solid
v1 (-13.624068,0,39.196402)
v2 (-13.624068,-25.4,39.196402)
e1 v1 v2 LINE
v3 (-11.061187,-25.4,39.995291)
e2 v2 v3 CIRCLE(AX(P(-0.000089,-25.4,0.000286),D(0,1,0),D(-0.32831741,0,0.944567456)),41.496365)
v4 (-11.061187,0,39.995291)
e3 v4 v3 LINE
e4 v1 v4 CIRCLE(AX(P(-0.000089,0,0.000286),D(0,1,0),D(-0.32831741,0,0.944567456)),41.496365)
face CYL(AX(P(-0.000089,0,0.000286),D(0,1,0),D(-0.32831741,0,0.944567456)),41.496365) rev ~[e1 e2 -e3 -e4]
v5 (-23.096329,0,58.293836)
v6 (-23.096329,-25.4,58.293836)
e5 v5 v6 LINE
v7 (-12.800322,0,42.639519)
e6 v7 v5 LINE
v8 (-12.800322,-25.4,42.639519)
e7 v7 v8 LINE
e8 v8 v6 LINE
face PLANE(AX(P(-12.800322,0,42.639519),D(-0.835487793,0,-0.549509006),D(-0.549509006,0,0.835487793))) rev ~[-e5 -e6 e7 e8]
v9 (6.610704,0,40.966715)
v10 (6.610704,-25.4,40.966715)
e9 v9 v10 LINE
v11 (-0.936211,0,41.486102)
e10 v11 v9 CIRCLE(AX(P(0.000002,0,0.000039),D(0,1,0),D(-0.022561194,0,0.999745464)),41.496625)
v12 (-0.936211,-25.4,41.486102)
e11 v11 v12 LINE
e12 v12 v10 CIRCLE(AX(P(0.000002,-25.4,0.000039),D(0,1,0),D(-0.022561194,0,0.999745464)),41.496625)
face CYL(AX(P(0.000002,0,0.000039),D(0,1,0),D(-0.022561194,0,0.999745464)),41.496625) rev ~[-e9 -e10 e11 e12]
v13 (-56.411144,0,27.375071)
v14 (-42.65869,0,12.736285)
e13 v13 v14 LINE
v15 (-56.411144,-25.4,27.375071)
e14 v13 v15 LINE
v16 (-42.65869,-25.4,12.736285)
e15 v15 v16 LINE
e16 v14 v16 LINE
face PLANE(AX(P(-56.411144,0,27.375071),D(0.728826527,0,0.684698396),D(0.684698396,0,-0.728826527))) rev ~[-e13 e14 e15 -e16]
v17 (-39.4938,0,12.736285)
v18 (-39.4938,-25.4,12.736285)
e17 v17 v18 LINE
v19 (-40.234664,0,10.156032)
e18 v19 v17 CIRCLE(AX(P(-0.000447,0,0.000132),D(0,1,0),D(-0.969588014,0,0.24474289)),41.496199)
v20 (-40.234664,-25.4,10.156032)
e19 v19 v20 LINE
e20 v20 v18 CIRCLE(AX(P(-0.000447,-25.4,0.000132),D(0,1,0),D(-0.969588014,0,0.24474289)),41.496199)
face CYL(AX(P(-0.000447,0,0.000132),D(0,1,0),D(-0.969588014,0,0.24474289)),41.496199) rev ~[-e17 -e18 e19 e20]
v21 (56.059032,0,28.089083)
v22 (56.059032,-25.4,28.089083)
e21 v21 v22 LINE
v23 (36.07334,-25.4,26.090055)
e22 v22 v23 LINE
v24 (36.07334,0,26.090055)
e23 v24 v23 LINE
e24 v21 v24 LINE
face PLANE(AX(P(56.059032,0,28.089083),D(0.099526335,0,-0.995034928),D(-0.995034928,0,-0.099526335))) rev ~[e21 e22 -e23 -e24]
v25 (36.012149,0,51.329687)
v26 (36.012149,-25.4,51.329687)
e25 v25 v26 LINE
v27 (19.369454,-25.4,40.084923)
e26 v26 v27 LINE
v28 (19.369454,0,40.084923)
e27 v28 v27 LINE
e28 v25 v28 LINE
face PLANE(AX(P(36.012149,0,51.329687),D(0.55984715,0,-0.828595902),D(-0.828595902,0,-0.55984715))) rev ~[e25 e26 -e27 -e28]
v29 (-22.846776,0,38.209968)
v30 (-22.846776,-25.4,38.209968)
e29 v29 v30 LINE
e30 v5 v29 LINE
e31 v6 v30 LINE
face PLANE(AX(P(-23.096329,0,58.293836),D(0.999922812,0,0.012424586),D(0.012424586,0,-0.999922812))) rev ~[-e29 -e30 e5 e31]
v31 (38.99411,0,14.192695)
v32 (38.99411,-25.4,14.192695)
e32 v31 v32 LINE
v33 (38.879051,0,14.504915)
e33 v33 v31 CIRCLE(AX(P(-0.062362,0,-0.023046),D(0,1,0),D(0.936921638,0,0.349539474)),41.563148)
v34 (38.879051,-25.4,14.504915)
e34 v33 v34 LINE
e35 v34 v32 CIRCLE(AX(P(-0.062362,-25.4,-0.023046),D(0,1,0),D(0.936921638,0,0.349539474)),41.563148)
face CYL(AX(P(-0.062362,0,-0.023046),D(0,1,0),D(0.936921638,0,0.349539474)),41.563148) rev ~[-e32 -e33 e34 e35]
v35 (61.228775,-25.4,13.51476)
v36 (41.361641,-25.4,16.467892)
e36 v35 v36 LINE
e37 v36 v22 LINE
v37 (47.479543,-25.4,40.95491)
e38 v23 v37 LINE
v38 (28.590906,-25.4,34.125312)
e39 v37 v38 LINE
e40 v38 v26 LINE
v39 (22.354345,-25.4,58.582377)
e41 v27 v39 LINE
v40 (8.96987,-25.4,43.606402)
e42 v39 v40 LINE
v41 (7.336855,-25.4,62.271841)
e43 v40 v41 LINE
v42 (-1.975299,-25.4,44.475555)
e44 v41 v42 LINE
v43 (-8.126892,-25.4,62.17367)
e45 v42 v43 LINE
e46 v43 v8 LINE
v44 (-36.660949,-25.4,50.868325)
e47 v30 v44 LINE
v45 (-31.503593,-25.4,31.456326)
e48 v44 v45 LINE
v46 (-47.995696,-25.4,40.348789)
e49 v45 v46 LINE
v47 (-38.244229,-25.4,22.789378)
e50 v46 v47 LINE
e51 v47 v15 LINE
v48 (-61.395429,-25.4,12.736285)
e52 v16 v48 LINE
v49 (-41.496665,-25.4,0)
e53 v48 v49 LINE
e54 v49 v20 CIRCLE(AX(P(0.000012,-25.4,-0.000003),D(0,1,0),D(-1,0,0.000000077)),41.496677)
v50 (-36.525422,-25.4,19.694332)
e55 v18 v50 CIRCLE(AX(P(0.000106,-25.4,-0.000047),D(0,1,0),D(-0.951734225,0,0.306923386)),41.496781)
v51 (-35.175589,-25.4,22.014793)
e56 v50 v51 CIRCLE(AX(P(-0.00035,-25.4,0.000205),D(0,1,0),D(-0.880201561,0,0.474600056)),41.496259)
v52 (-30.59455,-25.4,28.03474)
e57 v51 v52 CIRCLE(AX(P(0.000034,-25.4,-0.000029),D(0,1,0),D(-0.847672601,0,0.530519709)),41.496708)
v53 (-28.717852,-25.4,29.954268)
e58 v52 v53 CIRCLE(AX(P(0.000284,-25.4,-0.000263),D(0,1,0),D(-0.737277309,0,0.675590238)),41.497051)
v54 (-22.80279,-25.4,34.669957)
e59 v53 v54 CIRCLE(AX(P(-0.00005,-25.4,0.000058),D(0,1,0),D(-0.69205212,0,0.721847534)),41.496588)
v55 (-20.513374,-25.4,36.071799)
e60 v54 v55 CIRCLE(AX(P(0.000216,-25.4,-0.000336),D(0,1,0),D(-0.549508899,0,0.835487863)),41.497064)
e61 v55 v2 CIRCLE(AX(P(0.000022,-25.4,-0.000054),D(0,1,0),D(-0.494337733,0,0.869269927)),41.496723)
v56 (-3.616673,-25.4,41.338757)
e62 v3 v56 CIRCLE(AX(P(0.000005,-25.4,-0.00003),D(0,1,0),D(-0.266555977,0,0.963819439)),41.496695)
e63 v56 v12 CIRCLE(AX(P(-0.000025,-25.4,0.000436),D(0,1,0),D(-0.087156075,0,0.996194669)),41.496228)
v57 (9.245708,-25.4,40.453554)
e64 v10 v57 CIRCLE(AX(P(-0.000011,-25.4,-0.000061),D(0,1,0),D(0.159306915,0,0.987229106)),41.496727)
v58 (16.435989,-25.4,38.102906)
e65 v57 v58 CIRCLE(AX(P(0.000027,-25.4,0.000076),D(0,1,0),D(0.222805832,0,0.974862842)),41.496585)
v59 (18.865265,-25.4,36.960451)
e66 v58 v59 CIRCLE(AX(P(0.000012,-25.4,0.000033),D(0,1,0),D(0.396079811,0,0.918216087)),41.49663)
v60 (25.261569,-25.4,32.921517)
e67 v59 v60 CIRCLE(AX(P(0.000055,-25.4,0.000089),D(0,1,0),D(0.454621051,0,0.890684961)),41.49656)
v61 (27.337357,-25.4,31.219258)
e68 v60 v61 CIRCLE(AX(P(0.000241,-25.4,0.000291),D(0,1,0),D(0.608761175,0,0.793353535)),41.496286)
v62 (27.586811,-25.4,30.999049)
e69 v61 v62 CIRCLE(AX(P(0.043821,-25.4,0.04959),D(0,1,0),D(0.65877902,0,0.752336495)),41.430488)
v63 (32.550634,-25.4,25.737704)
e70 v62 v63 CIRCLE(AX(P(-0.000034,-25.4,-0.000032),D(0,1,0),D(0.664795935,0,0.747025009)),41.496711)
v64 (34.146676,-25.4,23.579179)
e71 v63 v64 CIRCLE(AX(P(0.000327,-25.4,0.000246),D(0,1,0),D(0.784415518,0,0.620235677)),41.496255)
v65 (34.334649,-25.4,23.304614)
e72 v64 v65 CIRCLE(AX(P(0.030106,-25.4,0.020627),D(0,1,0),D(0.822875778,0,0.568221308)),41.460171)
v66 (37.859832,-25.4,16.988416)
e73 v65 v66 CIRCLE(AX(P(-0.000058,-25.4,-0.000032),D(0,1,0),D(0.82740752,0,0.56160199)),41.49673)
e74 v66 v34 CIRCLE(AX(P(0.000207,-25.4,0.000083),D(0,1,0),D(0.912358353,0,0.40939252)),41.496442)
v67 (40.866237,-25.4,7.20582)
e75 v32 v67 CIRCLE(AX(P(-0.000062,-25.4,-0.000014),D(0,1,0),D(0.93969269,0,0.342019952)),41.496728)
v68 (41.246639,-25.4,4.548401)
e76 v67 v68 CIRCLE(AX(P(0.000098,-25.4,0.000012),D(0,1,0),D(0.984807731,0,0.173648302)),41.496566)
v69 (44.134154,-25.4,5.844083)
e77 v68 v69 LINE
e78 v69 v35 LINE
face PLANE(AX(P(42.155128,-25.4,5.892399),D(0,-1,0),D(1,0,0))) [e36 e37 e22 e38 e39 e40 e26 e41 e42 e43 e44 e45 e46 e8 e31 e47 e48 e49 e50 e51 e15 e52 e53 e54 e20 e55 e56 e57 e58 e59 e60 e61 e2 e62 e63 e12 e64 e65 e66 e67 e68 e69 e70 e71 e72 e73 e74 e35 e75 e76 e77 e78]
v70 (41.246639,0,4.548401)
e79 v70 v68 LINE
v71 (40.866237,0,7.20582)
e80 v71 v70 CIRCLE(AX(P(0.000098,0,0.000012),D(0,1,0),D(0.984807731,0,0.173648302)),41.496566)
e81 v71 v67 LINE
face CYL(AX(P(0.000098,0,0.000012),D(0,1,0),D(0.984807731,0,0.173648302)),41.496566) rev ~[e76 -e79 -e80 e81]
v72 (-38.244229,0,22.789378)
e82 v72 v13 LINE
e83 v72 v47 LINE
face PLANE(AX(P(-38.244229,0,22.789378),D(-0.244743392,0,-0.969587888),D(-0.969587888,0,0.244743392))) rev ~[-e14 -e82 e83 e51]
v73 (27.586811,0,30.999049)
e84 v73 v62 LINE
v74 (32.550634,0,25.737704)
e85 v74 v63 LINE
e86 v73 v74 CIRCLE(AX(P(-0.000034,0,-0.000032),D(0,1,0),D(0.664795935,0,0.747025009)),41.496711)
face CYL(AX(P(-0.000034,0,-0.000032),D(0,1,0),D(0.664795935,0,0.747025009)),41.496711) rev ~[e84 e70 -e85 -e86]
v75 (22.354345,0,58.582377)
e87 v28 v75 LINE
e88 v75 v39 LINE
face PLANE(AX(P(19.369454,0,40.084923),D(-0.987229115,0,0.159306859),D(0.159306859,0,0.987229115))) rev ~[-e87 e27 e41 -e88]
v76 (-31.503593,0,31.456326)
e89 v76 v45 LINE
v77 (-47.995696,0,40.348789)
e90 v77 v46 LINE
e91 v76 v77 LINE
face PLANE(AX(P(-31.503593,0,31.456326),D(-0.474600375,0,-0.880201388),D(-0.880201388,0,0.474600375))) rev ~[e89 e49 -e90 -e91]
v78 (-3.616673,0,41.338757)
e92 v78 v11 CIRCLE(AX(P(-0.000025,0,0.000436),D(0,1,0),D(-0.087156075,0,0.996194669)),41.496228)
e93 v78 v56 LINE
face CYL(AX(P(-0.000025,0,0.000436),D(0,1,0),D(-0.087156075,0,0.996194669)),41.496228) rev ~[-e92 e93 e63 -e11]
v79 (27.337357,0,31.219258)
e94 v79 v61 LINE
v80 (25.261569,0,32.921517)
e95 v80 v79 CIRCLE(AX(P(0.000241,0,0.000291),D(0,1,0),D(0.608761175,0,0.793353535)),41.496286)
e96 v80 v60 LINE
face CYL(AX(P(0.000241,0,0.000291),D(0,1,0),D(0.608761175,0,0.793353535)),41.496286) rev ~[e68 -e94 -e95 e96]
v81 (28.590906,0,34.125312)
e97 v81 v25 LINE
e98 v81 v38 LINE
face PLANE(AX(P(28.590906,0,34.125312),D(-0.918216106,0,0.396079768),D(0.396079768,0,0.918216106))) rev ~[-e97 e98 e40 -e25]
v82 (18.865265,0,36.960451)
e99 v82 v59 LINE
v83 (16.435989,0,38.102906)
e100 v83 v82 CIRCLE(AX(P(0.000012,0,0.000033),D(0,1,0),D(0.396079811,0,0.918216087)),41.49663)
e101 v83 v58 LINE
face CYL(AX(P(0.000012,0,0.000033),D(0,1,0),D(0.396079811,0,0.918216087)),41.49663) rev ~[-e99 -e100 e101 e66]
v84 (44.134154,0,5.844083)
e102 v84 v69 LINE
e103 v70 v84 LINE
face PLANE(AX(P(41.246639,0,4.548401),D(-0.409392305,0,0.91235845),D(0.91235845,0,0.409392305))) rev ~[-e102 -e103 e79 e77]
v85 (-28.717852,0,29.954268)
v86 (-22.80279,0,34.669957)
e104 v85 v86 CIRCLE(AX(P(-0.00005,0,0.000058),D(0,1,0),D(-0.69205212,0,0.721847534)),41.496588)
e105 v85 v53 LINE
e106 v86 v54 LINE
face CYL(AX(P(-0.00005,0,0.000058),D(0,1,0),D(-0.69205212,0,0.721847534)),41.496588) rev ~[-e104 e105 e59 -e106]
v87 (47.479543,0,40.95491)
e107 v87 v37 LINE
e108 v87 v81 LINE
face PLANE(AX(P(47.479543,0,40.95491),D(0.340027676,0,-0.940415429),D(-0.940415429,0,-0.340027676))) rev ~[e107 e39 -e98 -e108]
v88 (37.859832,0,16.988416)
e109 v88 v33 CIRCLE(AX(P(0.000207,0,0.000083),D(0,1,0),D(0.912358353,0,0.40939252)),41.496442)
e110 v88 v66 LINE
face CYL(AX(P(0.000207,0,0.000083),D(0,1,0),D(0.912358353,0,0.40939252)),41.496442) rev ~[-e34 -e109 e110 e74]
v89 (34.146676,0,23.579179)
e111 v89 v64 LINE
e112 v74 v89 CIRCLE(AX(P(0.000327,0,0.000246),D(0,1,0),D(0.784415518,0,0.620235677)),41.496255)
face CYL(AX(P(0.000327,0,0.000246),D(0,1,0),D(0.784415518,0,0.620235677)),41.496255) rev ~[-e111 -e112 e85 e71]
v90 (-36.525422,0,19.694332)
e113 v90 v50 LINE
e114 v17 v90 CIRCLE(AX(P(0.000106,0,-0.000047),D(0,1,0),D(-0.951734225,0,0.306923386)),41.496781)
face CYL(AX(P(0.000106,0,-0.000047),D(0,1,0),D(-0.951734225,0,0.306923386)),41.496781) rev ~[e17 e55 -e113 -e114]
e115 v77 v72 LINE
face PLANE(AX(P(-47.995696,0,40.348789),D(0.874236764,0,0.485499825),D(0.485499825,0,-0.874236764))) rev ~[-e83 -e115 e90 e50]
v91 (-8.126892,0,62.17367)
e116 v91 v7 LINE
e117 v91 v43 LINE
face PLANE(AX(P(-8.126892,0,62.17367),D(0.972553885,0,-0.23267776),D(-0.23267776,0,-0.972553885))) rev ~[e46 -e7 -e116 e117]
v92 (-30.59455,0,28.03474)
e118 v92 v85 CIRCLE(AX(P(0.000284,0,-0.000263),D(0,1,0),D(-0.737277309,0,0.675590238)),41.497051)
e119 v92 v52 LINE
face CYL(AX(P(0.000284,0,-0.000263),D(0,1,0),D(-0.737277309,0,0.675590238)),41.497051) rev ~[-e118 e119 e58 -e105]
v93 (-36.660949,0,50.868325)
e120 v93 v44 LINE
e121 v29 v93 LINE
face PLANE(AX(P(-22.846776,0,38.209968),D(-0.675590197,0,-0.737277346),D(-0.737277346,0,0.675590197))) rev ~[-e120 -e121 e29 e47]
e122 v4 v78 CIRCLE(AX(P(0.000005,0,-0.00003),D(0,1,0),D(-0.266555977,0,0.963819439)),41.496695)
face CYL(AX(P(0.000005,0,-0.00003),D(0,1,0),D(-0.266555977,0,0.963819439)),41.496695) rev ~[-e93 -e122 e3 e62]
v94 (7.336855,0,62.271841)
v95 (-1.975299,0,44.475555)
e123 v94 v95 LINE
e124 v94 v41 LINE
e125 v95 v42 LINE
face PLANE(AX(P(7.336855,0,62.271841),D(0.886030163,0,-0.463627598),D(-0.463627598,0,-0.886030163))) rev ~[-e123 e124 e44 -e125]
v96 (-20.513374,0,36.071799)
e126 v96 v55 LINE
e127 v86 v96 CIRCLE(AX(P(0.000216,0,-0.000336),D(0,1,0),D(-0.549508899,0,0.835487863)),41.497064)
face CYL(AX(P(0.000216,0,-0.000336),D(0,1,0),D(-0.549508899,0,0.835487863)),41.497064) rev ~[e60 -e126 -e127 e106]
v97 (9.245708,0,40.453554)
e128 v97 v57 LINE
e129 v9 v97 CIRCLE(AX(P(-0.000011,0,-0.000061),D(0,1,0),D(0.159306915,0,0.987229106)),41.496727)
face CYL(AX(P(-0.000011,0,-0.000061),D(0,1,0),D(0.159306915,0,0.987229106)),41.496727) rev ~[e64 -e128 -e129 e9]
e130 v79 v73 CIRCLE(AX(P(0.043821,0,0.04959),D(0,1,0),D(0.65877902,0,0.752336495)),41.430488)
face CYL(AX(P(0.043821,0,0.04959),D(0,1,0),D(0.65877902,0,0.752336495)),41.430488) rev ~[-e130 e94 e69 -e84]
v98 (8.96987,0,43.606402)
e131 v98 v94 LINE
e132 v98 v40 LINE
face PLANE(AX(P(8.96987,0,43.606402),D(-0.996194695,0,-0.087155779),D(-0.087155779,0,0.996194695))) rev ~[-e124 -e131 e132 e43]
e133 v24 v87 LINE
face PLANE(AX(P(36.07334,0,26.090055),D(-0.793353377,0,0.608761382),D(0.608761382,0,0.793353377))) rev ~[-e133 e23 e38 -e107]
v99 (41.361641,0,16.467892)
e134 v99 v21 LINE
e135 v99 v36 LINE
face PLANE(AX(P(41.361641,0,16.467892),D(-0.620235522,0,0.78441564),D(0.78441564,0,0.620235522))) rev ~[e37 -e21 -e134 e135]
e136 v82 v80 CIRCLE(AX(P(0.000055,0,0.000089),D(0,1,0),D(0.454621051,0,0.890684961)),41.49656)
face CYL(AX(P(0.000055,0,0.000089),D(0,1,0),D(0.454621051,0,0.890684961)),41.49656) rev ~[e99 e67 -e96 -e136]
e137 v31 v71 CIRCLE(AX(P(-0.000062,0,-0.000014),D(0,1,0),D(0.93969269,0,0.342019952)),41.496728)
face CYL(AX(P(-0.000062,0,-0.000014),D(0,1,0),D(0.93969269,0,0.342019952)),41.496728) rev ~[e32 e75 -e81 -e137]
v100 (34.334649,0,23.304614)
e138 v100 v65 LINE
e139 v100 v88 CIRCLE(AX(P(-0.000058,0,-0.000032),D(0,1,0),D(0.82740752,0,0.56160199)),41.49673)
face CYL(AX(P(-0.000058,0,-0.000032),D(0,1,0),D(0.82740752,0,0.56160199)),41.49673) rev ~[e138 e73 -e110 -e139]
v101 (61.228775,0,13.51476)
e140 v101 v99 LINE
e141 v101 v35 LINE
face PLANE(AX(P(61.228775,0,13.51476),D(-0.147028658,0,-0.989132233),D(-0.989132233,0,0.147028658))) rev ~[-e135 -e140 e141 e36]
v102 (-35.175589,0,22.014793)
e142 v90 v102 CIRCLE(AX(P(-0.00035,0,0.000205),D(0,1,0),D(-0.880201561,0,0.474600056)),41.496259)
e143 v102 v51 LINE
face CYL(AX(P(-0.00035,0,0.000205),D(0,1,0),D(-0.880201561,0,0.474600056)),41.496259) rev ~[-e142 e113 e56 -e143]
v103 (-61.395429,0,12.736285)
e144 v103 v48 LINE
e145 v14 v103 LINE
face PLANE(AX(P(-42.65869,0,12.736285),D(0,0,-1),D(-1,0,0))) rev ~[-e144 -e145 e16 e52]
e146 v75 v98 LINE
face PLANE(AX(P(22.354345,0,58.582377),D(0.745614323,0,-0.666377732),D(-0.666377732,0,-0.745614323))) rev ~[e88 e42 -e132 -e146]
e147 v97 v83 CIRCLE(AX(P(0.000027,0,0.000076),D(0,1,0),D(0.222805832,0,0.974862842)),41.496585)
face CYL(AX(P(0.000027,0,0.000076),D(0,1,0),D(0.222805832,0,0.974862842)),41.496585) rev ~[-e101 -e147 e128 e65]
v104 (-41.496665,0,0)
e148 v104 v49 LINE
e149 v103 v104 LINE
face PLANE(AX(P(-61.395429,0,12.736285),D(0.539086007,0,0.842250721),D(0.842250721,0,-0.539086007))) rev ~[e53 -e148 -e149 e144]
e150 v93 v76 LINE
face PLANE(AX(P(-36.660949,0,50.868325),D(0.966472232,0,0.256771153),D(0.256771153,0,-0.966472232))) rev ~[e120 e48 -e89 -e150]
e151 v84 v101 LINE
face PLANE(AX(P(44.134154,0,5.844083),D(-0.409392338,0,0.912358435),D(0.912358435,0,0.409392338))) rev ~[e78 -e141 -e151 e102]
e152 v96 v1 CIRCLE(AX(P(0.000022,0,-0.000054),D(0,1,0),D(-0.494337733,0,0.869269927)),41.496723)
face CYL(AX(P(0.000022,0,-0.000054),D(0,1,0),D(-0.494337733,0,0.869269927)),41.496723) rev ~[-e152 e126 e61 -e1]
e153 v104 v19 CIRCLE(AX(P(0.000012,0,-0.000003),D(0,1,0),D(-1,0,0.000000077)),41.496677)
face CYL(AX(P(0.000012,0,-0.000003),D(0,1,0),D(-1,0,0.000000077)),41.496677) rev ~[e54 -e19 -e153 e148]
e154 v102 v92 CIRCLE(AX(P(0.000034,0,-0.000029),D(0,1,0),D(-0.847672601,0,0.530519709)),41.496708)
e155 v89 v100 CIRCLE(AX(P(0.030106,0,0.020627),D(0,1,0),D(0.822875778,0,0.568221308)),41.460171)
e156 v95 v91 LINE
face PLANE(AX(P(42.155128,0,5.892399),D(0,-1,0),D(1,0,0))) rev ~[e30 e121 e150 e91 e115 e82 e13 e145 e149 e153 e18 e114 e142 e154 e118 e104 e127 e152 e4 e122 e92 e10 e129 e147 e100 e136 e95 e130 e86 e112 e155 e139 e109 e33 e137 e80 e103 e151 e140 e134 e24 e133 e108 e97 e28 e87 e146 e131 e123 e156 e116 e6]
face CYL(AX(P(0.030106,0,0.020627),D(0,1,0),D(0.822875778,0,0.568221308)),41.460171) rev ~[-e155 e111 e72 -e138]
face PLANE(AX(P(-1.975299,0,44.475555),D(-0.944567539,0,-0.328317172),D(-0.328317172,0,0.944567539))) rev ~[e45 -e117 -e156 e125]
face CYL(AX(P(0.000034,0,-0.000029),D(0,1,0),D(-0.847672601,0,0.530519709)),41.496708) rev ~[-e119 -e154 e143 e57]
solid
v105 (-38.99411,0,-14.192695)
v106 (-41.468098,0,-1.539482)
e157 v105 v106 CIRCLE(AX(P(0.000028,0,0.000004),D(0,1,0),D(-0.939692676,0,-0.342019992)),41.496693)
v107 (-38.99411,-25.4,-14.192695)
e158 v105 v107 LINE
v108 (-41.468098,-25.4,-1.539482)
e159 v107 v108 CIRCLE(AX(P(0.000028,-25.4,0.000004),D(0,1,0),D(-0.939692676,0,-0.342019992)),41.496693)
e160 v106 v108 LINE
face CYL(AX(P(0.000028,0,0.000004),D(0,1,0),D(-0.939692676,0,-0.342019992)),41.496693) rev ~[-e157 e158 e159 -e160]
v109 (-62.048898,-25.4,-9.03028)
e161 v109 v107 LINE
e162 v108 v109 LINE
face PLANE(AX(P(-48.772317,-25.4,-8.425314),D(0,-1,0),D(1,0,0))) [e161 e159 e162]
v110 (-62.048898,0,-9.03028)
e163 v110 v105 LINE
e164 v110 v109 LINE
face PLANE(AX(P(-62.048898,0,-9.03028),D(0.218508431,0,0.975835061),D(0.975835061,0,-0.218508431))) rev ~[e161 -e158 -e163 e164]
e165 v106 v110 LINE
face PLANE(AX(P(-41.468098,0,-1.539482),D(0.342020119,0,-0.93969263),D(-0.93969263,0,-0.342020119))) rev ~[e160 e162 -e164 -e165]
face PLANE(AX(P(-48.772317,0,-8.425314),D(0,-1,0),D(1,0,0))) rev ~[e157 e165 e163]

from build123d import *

# Parameters (mm, degrees)
F1_DEPTH = 25.4


with BuildPart() as f1:
    # F0 (on Front) → F1 (new body)
    with BuildSketch(Plane.XZ):
        with BuildLine():
            ThreePointArc((-38.99411, -14.192695), (-40.725516, -7.962757), (-41.468098, -1.539482))
            Line((-41.468098, -1.539482), (-62.048898, -9.03028))
            Line((-62.048898, -9.03028), (-38.99411, -14.192695))
        make_face()
        with BuildLine():
            ThreePointArc((40.866237, 7.20582), (41.077933, 5.880187), (41.246639, 4.548401))
            Line((41.246639, 4.548401), (44.134154, 5.844083))
            Line((44.134154, 5.844083), (40.866237, 7.20582))
        make_face()
        with BuildLine():
            ThreePointArc((38.99411, 14.192695), (40.0827, 10.740127), (40.866237, 7.20582))
            Line((40.866237, 7.20582), (44.134154, 5.844083))
            Line((44.134154, 5.844083), (61.228775, 13.51476))
            Line((61.228775, 13.51476), (41.361641, 16.467892))
            Line((41.361641, 16.467892), (38.879051, 14.504915))
            ThreePointArc((38.879051, 14.504915), (38.936893, 14.34892), (38.99411, 14.192695))
        make_face()
        with BuildLine():
            ThreePointArc((37.859832, 16.988416), (38.38953, 15.754909), (38.879051, 14.504915))
            Line((38.879051, 14.504915), (41.361641, 16.467892))
            Line((41.361641, 16.467892), (37.859832, 16.988416))
        make_face()
        with BuildLine():
            Line((37.859832, 16.988416), (41.361641, 16.467892))
            Line((41.361641, 16.467892), (56.059032, 28.089083))
            Line((56.059032, 28.089083), (36.07334, 26.090055))
            Line((36.07334, 26.090055), (34.146676, 23.579179))
            ThreePointArc((34.146676, 23.579179), (34.240938, 23.442085), (34.334649, 23.304614))
            ThreePointArc((34.334649, 23.304614), (36.235126, 20.223471), (37.859832, 16.988416))
        make_face()
        with BuildLine():
            Line((32.550634, 25.737704), (36.07334, 26.090055))
            Line((36.07334, 26.090055), (47.479543, 40.95491))
            Line((47.479543, 40.95491), (28.590906, 34.125312))
            Line((28.590906, 34.125312), (27.337357, 31.219258))
            ThreePointArc((27.337357, 31.219258), (27.462305, 31.109404), (27.586811, 30.999049))
            ThreePointArc((27.586811, 30.999049), (30.18358, 28.476739), (32.550634, 25.737704))
        make_face()
        with BuildLine():
            Line((34.146676, 23.579179), (36.07334, 26.090055))
            Line((36.07334, 26.090055), (32.550634, 25.737704))
            ThreePointArc((32.550634, 25.737704), (33.366115, 24.671351), (34.146676, 23.579179))
        make_face()
        with BuildLine():
            Line((25.261569, 32.921517), (28.590906, 34.125312))
            Line((28.590906, 34.125312), (36.012149, 51.329687))
            Line((36.012149, 51.329687), (19.369454, 40.084923))
            Line((19.369454, 40.084923), (18.865265, 36.960451))
            ThreePointArc((18.865265, 36.960451), (22.155645, 35.087043), (25.261569, 32.921517))
        make_face()
        with BuildLine():
            Line((27.337357, 31.219258), (28.590906, 34.125312))
            Line((28.590906, 34.125312), (25.261569, 32.921517))
            ThreePointArc((25.261569, 32.921517), (26.313232, 32.087178), (27.337357, 31.219258))
        make_face()
        with BuildLine():
            Line((16.435989, 38.102906), (19.369454, 40.084923))
            Line((19.369454, 40.084923), (22.354345, 58.582377))
            Line((22.354345, 58.582377), (8.96987, 43.606402))
            Line((8.96987, 43.606402), (9.245708, 40.453554))
            ThreePointArc((9.245708, 40.453554), (12.894525, 39.442419), (16.435989, 38.102906))
        make_face()
        with BuildLine():
            Line((18.865265, 36.960451), (19.369454, 40.084923))
            Line((19.369454, 40.084923), (16.435989, 38.102906))
            ThreePointArc((16.435989, 38.102906), (17.659868, 37.551328), (18.865265, 36.960451))
        make_face()
        with BuildLine():
            Line((6.610704, 40.966715), (8.96987, 43.606402))
            Line((8.96987, 43.606402), (7.336855, 62.271841))
            Line((7.336855, 62.271841), (-1.975299, 44.475555))
            Line((-1.975299, 44.475555), (-0.936211, 41.486102))
            ThreePointArc((-0.936211, 41.486102), (2.849106, 41.398741), (6.610704, 40.966715))
        make_face()
        with BuildLine():
            Line((9.245708, 40.453554), (8.96987, 43.606402))
            Line((8.96987, 43.606402), (6.610704, 40.966715))
            ThreePointArc((6.610704, 40.966715), (7.932357, 40.731448), (9.245708, 40.453554))
        make_face()
        with BuildLine():
            Line((-3.616673, 41.338757), (-1.975299, 44.475555))
            Line((-1.975299, 44.475555), (-8.126892, 62.17367))
            Line((-8.126892, 62.17367), (-12.800322, 42.639519))
            Line((-12.800322, 42.639519), (-11.061187, 39.995291))
            ThreePointArc((-11.061187, 39.995291), (-7.369607, 40.837018), (-3.616673, 41.338757))
        make_face()
        with BuildLine():
            Line((-0.936211, 41.486102), (-1.975299, 44.475555))
            Line((-1.975299, 44.475555), (-3.616673, 41.338757))
            ThreePointArc((-3.616673, 41.338757), (-2.277634, 41.434111), (-0.936211, 41.486102))
        make_face()
        with BuildLine():
            Line((-13.624068, 39.196402), (-12.800322, 42.639519))
            Line((-12.800322, 42.639519), (-23.096329, 58.293836))
            Line((-23.096329, 58.293836), (-22.846776, 38.209968))
            Line((-22.846776, 38.209968), (-20.513374, 36.071799))
            ThreePointArc((-20.513374, 36.071799), (-17.140071, 37.791416), (-13.624068, 39.196402))
        make_face()
        with BuildLine():
            Line((-11.061187, 39.995291), (-12.800322, 42.639519))
            Line((-12.800322, 42.639519), (-13.624068, 39.196402))
            ThreePointArc((-13.624068, 39.196402), (-12.349089, 39.616577), (-11.061187, 39.995291))
        make_face()
        with BuildLine():
            Line((-22.80279, 34.669957), (-22.846776, 38.209968))
            Line((-22.846776, 38.209968), (-36.660949, 50.868325))
            Line((-36.660949, 50.868325), (-31.503593, 31.456326))
            Line((-31.503593, 31.456326), (-28.717852, 29.954268))
            ThreePointArc((-28.717852, 29.954268), (-25.868003, 32.447182), (-22.80279, 34.669957))
        make_face()
        with BuildLine():
            Line((-20.513374, 36.071799), (-22.846776, 38.209968))
            Line((-22.846776, 38.209968), (-22.80279, 34.669957))
            ThreePointArc((-22.80279, 34.669957), (-21.669421, 35.389396), (-20.513374, 36.071799))
        make_face()
        with BuildLine():
            Line((-30.59455, 28.03474), (-31.503593, 31.456326))
            Line((-31.503593, 31.456326), (-47.995696, 40.348789))
            Line((-47.995696, 40.348789), (-38.244229, 22.789378))
            Line((-38.244229, 22.789378), (-35.175589, 22.014793))
            ThreePointArc((-35.175589, 22.014793), (-33.022534, 25.129373), (-30.59455, 28.03474))
        make_face()
        with BuildLine():
            Line((-28.717852, 29.954268), (-31.503593, 31.456326))
            Line((-31.503593, 31.456326), (-30.59455, 28.03474))
            ThreePointArc((-30.59455, 28.03474), (-29.671727, 29.009684), (-28.717852, 29.954268))
        make_face()
        with BuildLine():
            Line((-36.525422, 19.694332), (-38.244229, 22.789378))
            Line((-38.244229, 22.789378), (-56.411144, 27.375071))
            Line((-56.411144, 27.375071), (-42.65869, 12.736285))
            Line((-42.65869, 12.736285), (-39.4938, 12.736285))
            ThreePointArc((-39.4938, 12.736285), (-38.168496, 16.283091), (-36.525422, 19.694332))
        make_face()
        with BuildLine():
            Line((-35.175589, 22.014793), (-38.244229, 22.789378))
            Line((-38.244229, 22.789378), (-36.525422, 19.694332))
            ThreePointArc((-36.525422, 19.694332), (-35.869275, 20.865481), (-35.175589, 22.014793))
        make_face()
        with BuildLine():
            Line((-40.234664, 10.156032), (-42.65869, 12.736285))
            Line((-42.65869, 12.736285), (-61.395429, 12.736285))
            Line((-61.395429, 12.736285), (-41.496665, 0))
            ThreePointArc((-41.496665, 0), (-41.179956, 5.11707), (-40.234664, 10.156032))
        make_face()
        with BuildLine():
            Line((-39.4938, 12.736285), (-42.65869, 12.736285))
            Line((-42.65869, 12.736285), (-40.234664, 10.156032))
            ThreePointArc((-40.234664, 10.156032), (-39.885103, 11.452151), (-39.4938, 12.736285))
        make_face()
    extrude(amount=F1_DEPTH)


solid = f1.part
